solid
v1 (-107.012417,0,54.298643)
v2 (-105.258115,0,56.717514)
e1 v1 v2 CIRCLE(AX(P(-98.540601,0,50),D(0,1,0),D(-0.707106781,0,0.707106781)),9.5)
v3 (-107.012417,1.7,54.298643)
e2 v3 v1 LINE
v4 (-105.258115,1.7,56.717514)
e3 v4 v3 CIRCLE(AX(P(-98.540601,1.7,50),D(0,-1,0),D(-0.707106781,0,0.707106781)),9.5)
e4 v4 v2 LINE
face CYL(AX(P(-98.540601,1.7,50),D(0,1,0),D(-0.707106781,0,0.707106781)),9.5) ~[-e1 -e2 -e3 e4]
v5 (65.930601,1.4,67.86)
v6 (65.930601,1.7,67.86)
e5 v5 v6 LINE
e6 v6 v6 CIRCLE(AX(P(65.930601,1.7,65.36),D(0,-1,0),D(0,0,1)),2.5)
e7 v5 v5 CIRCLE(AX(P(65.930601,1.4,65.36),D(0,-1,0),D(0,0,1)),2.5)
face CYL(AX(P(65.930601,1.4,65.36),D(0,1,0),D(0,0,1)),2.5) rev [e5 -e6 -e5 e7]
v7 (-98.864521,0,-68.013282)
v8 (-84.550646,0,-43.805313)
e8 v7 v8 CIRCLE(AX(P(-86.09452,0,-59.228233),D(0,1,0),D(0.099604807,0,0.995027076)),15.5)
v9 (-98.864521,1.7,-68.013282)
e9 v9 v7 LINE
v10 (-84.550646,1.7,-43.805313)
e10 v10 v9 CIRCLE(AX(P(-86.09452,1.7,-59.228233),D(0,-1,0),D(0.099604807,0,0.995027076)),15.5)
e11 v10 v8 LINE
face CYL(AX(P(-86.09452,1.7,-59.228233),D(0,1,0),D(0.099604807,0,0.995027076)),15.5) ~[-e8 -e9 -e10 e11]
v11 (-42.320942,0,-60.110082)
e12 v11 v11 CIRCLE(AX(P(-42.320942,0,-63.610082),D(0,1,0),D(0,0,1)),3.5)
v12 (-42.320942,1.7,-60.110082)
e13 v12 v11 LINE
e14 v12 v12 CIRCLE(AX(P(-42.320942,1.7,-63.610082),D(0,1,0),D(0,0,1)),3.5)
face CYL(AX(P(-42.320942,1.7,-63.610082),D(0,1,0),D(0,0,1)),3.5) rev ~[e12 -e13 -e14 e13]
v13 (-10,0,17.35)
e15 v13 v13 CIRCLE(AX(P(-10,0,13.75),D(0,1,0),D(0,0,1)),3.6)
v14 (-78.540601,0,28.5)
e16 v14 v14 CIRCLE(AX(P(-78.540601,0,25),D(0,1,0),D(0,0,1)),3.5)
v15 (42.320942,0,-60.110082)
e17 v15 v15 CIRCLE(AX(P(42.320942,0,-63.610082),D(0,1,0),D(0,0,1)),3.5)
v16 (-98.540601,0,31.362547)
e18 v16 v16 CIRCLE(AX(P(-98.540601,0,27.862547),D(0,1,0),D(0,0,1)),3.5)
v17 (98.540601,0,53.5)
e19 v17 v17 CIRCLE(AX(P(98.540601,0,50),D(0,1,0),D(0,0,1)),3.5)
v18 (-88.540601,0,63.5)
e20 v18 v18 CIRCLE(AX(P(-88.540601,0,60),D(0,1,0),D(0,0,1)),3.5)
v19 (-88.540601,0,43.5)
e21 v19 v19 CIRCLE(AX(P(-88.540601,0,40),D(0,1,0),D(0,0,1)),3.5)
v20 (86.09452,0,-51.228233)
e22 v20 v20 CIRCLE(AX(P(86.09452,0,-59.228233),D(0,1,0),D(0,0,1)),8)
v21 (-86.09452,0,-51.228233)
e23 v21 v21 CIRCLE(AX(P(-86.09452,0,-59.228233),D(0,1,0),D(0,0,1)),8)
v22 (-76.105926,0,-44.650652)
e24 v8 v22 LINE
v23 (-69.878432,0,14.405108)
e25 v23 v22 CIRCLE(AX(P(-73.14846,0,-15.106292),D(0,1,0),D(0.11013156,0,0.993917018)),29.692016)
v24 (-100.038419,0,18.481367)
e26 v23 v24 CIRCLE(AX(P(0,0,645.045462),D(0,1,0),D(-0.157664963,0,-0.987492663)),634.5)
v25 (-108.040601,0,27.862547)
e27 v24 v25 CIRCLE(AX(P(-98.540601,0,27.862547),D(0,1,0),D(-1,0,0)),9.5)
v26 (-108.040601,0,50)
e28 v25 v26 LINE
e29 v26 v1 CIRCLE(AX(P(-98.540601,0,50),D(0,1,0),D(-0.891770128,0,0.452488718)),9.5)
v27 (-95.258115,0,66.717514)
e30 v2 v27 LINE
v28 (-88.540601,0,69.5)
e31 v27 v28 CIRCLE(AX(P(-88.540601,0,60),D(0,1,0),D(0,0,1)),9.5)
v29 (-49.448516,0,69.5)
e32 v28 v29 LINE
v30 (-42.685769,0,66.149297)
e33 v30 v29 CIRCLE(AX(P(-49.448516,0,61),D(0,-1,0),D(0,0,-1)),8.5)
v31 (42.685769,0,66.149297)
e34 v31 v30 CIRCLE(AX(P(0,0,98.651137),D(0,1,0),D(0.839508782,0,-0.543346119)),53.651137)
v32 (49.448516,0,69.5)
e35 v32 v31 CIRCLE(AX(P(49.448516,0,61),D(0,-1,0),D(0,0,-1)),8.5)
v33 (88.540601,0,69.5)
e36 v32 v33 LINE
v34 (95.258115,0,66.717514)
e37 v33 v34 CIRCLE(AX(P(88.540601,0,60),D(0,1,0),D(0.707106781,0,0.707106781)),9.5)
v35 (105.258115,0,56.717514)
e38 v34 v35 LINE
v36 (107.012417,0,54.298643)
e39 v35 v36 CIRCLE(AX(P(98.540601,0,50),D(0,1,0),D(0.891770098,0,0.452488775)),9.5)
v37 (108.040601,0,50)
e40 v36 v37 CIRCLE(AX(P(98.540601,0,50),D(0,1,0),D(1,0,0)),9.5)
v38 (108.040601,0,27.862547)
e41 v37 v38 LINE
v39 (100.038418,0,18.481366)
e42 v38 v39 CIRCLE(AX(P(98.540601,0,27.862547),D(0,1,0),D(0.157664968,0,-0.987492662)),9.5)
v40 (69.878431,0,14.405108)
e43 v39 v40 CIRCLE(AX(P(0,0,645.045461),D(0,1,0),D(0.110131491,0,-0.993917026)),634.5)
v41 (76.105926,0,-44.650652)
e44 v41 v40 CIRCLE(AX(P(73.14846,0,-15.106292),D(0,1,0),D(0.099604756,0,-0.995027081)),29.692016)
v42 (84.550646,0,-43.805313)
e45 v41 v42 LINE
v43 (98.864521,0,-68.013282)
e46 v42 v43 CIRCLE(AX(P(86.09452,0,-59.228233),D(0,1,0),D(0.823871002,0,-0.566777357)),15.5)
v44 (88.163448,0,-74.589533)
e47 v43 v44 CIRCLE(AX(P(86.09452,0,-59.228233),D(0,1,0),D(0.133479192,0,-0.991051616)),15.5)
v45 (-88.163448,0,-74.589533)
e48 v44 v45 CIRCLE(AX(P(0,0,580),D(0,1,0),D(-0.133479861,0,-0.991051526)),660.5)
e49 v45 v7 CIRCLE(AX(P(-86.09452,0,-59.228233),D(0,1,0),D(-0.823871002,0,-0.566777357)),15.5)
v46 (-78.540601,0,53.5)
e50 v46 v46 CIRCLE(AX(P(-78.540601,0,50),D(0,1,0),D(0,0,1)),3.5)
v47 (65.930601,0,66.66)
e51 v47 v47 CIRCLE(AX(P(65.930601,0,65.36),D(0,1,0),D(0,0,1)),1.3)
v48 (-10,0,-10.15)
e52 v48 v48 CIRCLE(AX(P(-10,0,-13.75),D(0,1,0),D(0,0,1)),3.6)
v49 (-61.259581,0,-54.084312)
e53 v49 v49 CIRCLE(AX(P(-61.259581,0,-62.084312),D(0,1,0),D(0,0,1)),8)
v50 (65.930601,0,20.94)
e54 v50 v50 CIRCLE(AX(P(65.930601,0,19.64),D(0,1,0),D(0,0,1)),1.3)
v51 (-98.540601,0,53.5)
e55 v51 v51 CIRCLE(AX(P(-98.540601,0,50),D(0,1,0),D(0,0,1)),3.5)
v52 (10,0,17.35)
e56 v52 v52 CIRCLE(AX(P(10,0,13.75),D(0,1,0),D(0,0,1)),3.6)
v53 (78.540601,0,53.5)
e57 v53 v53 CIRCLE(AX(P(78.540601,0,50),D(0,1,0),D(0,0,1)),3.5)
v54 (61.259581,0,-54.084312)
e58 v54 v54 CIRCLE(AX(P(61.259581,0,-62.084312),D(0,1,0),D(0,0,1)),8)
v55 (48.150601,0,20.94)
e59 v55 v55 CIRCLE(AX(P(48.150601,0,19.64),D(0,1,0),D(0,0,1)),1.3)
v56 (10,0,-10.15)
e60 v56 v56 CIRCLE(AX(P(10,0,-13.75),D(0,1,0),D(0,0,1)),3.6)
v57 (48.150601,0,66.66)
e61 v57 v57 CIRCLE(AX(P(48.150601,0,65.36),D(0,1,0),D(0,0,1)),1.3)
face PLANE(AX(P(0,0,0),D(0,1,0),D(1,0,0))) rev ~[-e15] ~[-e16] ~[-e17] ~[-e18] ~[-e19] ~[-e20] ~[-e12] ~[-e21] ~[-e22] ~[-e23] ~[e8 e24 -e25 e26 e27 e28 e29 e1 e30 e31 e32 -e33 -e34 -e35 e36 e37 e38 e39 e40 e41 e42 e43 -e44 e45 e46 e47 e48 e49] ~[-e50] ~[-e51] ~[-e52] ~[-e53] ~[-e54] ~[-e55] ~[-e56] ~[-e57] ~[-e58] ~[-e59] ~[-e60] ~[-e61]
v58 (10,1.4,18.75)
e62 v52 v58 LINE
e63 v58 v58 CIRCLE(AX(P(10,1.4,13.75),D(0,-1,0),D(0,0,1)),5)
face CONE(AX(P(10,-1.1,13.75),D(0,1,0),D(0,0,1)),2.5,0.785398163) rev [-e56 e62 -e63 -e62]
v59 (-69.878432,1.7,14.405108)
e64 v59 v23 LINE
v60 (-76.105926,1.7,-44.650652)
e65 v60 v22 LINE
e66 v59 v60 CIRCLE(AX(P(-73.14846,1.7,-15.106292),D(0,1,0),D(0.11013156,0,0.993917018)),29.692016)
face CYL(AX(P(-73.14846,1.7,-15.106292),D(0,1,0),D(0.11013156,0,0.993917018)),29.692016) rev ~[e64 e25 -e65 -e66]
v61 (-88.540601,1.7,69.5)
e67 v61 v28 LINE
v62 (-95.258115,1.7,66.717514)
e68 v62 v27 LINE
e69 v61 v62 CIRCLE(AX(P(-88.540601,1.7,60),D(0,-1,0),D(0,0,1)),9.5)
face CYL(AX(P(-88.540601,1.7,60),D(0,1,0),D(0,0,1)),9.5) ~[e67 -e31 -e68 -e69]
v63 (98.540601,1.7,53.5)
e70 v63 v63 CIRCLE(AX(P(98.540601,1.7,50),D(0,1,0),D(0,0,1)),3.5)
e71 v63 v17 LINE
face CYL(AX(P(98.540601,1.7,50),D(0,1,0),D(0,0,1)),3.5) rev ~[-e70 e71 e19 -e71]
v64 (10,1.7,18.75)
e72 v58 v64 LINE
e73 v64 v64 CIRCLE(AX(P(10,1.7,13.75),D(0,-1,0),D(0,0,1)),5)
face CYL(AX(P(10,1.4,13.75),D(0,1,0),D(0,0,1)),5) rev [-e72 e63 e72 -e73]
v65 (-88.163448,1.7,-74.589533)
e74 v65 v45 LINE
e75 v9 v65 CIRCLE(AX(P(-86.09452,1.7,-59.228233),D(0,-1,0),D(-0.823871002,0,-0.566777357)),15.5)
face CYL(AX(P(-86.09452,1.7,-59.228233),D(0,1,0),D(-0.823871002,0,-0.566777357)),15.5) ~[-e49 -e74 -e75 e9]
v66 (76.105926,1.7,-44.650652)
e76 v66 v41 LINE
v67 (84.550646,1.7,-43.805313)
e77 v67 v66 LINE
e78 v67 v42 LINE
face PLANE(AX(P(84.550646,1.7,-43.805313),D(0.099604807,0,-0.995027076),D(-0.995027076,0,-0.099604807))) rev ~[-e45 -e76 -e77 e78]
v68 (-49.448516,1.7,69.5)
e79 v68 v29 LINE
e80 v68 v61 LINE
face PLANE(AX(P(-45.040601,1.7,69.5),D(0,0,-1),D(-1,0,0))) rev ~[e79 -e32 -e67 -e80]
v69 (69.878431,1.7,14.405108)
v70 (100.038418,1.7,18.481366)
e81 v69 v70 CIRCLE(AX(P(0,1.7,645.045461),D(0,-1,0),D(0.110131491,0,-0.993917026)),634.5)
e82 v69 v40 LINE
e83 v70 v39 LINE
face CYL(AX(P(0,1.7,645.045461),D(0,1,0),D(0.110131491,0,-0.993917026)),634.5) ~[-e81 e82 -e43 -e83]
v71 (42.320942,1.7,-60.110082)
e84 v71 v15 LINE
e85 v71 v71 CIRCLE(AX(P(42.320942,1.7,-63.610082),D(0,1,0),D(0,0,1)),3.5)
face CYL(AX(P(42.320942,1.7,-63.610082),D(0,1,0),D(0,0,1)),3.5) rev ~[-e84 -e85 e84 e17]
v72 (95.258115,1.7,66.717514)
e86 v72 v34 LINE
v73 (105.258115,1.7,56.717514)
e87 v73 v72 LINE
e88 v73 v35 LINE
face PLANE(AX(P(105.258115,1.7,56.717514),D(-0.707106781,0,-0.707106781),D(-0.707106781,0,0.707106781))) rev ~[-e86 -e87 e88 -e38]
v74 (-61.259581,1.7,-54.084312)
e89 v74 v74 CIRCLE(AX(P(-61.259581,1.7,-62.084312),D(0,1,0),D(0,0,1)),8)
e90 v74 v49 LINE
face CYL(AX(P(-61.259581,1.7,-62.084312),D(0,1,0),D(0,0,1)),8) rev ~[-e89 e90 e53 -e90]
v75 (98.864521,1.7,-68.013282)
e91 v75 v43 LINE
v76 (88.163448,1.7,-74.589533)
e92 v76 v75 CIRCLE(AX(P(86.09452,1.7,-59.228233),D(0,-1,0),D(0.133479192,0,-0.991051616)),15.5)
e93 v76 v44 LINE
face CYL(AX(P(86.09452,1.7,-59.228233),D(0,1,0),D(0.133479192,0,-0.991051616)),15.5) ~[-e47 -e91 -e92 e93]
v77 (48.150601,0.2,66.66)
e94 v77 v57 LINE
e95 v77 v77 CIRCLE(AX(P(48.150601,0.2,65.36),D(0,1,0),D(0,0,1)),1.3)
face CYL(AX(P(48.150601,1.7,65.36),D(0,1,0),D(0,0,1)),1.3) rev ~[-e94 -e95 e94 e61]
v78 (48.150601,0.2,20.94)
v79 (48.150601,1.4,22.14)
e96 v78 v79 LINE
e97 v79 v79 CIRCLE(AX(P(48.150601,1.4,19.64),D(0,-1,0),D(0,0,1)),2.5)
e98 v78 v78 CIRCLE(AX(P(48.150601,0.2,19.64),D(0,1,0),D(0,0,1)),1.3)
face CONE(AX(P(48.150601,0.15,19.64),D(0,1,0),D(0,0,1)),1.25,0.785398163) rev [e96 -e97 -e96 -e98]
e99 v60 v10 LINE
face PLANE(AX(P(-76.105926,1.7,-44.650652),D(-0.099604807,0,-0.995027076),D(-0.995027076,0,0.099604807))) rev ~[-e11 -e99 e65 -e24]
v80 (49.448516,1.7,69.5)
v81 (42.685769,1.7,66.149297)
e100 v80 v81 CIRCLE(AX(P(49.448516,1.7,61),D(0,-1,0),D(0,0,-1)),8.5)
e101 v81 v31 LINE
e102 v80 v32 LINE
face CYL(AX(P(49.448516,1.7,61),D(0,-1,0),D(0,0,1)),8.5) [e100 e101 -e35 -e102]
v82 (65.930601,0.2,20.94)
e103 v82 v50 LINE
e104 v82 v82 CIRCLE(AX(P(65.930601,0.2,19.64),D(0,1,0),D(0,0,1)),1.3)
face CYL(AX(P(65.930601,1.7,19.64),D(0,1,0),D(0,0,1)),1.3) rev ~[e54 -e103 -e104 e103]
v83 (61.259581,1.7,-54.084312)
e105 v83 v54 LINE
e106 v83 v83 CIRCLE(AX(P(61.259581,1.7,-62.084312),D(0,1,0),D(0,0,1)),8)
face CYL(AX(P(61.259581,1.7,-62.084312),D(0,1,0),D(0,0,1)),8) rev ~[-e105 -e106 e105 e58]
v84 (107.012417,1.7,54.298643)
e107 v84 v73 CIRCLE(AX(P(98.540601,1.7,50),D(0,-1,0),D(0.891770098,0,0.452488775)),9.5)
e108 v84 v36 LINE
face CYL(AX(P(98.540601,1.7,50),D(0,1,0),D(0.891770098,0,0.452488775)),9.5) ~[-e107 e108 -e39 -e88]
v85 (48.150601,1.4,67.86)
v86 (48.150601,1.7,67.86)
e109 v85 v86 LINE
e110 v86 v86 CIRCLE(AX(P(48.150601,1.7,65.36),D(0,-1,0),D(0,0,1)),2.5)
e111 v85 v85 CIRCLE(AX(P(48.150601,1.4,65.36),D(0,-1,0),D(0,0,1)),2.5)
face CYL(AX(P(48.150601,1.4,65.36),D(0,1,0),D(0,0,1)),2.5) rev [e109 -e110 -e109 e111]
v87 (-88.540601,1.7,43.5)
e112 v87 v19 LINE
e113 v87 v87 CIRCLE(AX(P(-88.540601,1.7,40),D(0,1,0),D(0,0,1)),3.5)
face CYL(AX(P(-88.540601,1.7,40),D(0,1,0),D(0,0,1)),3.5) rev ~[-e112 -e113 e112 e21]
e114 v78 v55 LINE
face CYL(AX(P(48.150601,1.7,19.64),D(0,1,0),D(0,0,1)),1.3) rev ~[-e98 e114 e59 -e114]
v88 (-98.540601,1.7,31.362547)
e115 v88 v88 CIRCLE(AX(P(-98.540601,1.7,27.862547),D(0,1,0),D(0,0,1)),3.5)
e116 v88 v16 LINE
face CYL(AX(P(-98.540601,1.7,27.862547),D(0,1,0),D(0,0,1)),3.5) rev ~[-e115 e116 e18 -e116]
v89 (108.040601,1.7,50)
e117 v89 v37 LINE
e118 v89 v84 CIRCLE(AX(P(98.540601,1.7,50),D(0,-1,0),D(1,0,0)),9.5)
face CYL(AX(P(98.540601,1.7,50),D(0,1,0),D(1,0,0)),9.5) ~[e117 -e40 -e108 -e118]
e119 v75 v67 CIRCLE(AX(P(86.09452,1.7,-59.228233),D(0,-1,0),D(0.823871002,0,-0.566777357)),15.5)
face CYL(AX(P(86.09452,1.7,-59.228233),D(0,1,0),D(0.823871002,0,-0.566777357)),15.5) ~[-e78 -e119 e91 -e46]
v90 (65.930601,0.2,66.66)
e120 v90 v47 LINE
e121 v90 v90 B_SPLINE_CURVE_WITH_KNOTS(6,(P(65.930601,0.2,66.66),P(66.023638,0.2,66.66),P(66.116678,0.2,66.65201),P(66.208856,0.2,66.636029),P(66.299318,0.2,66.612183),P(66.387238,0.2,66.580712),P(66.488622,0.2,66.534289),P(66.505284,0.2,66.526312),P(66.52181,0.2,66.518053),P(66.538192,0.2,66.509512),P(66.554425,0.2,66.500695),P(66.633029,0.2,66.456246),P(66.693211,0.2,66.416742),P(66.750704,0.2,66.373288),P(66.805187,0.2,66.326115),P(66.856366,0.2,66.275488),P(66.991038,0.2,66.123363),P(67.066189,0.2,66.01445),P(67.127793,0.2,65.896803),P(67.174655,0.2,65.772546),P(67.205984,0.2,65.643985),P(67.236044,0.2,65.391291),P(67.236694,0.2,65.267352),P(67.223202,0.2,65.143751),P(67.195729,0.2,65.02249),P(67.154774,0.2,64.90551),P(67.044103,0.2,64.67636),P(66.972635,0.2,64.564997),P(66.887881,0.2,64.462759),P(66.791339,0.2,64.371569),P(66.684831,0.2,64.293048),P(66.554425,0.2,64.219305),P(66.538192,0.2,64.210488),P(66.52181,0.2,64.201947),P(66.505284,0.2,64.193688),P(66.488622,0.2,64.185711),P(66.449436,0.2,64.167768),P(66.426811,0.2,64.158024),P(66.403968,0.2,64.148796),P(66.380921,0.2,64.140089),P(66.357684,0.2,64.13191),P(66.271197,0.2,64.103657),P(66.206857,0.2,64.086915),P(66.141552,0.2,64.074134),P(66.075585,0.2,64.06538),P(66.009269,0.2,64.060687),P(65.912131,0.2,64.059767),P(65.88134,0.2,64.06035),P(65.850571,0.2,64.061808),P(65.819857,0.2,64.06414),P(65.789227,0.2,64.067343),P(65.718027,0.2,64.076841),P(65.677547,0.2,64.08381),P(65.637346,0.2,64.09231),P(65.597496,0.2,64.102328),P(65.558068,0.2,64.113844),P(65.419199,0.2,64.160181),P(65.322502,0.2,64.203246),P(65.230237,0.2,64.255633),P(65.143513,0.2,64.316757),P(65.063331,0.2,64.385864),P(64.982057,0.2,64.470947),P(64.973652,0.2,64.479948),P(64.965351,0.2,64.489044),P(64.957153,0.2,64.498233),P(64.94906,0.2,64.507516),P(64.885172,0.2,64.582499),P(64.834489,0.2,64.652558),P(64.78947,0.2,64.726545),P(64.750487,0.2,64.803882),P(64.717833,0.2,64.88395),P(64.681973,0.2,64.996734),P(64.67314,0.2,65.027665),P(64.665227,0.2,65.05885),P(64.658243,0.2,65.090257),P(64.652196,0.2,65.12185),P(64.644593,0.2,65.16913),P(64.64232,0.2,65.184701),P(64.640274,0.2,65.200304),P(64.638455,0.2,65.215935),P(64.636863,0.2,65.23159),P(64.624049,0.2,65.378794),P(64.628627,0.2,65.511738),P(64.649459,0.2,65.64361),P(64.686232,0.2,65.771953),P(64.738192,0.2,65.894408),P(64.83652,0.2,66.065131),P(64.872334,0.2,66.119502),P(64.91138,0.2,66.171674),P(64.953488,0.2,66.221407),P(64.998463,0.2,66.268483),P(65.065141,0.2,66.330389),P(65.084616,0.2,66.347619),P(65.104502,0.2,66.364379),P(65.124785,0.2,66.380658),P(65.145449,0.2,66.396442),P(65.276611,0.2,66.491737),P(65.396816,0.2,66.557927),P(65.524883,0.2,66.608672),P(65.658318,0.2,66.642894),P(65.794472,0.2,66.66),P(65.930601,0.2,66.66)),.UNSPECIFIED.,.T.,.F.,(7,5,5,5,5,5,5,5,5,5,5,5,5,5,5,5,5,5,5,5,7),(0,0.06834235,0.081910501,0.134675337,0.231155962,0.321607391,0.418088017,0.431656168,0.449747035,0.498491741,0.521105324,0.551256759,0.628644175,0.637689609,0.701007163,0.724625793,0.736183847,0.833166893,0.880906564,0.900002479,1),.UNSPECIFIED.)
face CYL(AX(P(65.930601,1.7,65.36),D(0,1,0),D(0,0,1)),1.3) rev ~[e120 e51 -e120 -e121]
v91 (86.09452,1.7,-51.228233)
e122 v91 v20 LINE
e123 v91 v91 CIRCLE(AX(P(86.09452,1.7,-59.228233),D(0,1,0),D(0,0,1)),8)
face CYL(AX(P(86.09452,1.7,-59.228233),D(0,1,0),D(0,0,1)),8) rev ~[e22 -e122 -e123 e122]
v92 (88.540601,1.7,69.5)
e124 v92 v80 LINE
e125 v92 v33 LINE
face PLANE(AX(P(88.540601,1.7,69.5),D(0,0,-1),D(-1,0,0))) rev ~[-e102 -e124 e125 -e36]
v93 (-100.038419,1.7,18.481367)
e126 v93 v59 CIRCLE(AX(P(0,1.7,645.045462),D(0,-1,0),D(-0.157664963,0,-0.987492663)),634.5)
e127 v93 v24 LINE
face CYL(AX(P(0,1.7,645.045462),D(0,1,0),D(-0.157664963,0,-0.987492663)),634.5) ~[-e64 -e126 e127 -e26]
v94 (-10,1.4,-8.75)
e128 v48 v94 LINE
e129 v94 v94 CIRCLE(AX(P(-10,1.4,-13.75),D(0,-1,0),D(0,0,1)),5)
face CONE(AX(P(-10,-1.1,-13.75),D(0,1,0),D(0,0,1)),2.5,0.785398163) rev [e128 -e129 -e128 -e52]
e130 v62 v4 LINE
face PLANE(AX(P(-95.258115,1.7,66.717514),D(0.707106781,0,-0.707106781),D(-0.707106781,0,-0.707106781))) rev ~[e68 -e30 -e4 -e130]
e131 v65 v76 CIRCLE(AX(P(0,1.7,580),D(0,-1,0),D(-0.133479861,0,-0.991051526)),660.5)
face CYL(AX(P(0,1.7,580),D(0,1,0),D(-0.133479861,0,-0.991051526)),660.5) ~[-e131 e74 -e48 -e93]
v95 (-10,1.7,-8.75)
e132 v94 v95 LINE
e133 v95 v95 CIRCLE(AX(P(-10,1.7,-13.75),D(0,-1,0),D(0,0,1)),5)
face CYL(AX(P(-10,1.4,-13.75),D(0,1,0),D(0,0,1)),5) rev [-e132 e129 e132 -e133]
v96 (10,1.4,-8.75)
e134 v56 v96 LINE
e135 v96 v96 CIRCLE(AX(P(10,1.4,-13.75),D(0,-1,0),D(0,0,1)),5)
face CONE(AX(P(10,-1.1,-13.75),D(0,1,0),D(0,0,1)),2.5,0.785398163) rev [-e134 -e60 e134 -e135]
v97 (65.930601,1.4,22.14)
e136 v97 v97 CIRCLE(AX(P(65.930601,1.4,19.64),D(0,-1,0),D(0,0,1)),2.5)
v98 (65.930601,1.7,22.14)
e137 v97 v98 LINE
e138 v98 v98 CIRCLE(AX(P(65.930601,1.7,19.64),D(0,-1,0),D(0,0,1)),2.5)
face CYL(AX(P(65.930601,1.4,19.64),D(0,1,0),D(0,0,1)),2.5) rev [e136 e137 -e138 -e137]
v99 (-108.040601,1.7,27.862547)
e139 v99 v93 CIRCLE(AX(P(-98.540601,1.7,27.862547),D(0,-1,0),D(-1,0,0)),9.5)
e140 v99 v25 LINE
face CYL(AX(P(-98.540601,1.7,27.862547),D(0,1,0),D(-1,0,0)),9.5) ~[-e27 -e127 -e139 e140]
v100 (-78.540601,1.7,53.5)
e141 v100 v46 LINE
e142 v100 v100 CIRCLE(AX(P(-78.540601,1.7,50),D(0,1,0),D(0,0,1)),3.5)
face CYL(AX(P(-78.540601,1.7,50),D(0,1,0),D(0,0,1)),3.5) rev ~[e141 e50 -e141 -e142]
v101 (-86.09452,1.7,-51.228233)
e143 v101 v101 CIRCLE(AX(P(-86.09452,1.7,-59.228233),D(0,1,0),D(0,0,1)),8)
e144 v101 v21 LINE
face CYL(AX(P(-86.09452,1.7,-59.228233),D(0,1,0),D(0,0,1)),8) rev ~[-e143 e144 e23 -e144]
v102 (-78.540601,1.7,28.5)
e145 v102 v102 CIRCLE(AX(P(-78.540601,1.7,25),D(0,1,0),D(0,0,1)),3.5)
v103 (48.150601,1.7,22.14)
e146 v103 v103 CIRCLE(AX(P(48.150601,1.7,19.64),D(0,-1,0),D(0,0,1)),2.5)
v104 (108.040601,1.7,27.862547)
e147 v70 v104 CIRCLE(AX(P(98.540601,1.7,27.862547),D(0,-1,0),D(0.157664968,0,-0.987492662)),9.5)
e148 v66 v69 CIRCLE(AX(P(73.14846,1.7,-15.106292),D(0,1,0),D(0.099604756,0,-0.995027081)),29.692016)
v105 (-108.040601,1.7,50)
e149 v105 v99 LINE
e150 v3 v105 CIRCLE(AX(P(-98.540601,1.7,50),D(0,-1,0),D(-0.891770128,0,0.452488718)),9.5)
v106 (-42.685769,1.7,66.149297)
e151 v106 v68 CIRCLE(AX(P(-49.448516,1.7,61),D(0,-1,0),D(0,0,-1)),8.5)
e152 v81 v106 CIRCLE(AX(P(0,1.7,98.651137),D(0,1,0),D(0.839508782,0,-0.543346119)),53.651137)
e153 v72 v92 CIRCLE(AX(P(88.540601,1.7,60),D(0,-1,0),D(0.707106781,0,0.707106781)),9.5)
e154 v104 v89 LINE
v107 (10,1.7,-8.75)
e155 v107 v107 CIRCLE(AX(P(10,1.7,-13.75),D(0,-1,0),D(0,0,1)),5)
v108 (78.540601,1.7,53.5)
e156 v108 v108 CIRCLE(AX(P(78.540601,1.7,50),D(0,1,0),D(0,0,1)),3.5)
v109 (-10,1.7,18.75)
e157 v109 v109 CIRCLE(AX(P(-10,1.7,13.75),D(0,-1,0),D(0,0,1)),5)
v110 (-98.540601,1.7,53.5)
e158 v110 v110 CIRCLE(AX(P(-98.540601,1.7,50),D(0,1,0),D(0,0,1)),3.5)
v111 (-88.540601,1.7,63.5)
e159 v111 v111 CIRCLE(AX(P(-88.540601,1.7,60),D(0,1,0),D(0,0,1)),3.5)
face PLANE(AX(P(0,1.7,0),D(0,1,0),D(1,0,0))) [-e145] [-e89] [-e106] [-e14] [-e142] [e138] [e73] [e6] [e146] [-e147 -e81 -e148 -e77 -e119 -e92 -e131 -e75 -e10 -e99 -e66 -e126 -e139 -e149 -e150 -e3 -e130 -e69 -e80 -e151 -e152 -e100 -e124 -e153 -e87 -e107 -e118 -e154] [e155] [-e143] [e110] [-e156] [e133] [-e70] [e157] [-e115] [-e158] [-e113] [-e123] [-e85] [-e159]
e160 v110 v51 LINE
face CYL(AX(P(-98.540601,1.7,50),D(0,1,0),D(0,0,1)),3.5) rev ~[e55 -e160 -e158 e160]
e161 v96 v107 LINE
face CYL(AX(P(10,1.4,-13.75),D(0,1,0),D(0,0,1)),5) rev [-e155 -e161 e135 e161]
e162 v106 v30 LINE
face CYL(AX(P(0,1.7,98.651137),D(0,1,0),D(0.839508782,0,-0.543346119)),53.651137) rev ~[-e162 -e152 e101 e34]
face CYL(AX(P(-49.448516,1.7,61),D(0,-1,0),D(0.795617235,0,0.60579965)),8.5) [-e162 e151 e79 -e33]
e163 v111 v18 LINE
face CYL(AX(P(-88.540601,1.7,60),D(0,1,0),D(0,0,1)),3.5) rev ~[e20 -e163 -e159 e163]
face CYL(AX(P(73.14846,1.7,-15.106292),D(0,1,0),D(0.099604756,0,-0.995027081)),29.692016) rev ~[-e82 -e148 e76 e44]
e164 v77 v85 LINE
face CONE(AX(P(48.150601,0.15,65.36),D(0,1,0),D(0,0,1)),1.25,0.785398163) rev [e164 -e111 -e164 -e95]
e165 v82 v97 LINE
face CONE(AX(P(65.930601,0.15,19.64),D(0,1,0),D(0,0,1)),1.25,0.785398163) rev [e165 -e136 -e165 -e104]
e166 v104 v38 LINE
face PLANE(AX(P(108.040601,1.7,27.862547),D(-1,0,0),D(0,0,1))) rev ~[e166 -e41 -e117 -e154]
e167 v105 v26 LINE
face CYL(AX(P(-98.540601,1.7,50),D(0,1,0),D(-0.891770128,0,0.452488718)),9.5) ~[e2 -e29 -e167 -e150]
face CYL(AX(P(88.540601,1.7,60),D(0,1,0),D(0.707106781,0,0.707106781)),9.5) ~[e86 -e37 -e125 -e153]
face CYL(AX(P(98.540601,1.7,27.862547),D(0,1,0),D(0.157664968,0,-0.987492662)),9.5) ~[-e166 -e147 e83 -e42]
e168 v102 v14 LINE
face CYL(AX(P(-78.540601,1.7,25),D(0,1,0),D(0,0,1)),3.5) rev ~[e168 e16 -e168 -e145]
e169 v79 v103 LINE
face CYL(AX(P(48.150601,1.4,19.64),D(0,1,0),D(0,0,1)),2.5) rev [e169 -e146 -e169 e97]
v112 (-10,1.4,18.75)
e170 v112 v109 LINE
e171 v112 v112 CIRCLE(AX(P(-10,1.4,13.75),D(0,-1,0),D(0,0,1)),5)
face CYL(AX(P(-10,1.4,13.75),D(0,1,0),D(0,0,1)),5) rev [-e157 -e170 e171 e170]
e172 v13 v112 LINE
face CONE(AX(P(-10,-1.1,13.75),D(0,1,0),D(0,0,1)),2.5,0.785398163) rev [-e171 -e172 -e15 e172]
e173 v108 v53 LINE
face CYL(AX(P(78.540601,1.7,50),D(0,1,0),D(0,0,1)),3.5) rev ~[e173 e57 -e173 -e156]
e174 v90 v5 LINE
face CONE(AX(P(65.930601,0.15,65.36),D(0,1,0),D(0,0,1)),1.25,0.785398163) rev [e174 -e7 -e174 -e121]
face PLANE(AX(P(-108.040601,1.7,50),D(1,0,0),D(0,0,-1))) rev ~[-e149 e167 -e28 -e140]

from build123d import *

# Parameters (mm, degrees)
SKETCH1_R                                      = 2.5
BOSS_EXTRUDE1_DEPTH                            = 1.7
CUT_EXTRUDE1_REACH                             = 155.062
SKETCH2_R                                      = 3.5
SKETCH2_R_2                                    = 8
CUT_EXTRUDE2_REACH                             = 155.062
SKETCH3_R                                      = 1.3
CSK_FOR_M5_FLAT_HEAD_MACHINE_SCREW1_AT_2_COUNT = 2
CSK_FOR_M5_FLAT_HEAD_MACHINE_SCREW1_AT_2_PITCH = 20
CSK_FOR_M5_FLAT_HEAD_MACHINE_SCREW1_AT_3_COUNT = 2
CSK_FOR_M5_FLAT_HEAD_MACHINE_SCREW1_AT_3_PITCH = 34.003676272
CSK_FOR_M5_FLAT_HEAD_MACHINE_SCREW1_AT_4_COUNT = 2
CSK_FOR_M5_FLAT_HEAD_MACHINE_SCREW1_AT_4_PITCH = 27.5
CSK_FOR_M2_5_FLAT_HEAD_MACHINE_SCREW1_AT_COUNT = 2
CSK_FOR_M2_5_FLAT_HEAD_MACHINE_SCREW1_AT_PITCH = 17.78
CSK_FOR_M2_5_FLAT_HEAD_MACHINE_SCREW_2_COUNT   = 2
CSK_FOR_M2_5_FLAT_HEAD_MACHINE_SCREW_2_PITCH   = 49.055548106
CSK_FOR_M2_5_FLAT_HEAD_MACHINE_SCREW_3_COUNT   = 2
CSK_FOR_M2_5_FLAT_HEAD_MACHINE_SCREW_3_PITCH   = 45.72
FILLET1_R                                      = 8.5


with BuildPart() as part:
    # Sketch1 → Boss-Extrude1 (new body)
    with BuildSketch(Plane(origin=(0, 0, 0), x_dir=(1, 0, 0), z_dir=(0, 1, 0))):
        with BuildLine():
            ThreePointArc((-73.314391493, 95), (-120, 0), (-73.314391493, -95))
            Line((-73.314391493, -95), (73.314391493, -95))
            ThreePointArc((73.314391493, -95), (120, 0), (73.314391493, 95))
            Line((73.314391493, 95), (-73.314391493, 95))
        make_face()
        with Locations(Location((10, 13.75, 0), (0, 0, 270))):
            Circle(SKETCH1_R, mode=Mode.SUBTRACT)
        with Locations(Location((10, -13.75, 0), (0, 0, 270))):
            Circle(SKETCH1_R, mode=Mode.SUBTRACT)
        with Locations(Location((-10, -13.75, 0), (0, 0, 270))):
            Circle(SKETCH1_R, mode=Mode.SUBTRACT)
        with Locations(Location((-10, 13.75, 0), (0, 0, 270))):
            Circle(SKETCH1_R, mode=Mode.SUBTRACT)
    extrude(amount=BOSS_EXTRUDE1_DEPTH)

    # Sketch2 → Cut-Extrude1 (cut, up to next)
    with BuildSketch(Plane(origin=(0, 1.7, 0), x_dir=(1, 0, 0), z_dir=(0, 1, 0)), mode=Mode.PRIVATE) as cut_extrude1_sk1:
        with Locations(Location((-88.540600769, -40, 0), (0, 0, 270))):
            Circle(SKETCH2_R)
    cut_extrude1_tool1 = extrude(cut_extrude1_sk1.sketch, amount=-CUT_EXTRUDE1_REACH, mode=Mode.PRIVATE) & part.part
    # Sketch2 → Cut-Extrude1 (cut, up to next)
    with BuildSketch(Plane(origin=(0, 1.7, 0), x_dir=(1, 0, 0), z_dir=(0, 1, 0)), mode=Mode.PRIVATE) as cut_extrude1_sk2:
        with Locations(Location((-78.540600769, -50, 0), (0, 0, 270))):
            Circle(SKETCH2_R)
    cut_extrude1_tool2 = extrude(cut_extrude1_sk2.sketch, amount=-CUT_EXTRUDE1_REACH, mode=Mode.PRIVATE) & part.part
    # Sketch2 → Cut-Extrude1 (cut, up to next)
    with BuildSketch(Plane(origin=(0, 1.7, 0), x_dir=(1, 0, 0), z_dir=(0, 1, 0)), mode=Mode.PRIVATE) as cut_extrude1_sk3:
        with Locations(Location((-88.540600769, -60, 0), (0, 0, 270))):
            Circle(SKETCH2_R)
    cut_extrude1_tool3 = extrude(cut_extrude1_sk3.sketch, amount=-CUT_EXTRUDE1_REACH, mode=Mode.PRIVATE) & part.part
    # Sketch2 → Cut-Extrude1 (cut, up to next)
    with BuildSketch(Plane(origin=(0, 1.7, 0), x_dir=(1, 0, 0), z_dir=(0, 1, 0)), mode=Mode.PRIVATE) as cut_extrude1_sk4:
        with Locations(Location((-98.540600769, -50, 0), (0, 0, 270))):
            Circle(SKETCH2_R)
    cut_extrude1_tool4 = extrude(cut_extrude1_sk4.sketch, amount=-CUT_EXTRUDE1_REACH, mode=Mode.PRIVATE) & part.part
    # Sketch2 → Cut-Extrude1 (cut, up to next)
    with BuildSketch(Plane(origin=(0, 1.7, 0), x_dir=(1, 0, 0), z_dir=(0, 1, 0)), mode=Mode.PRIVATE) as cut_extrude1_sk5:
        with Locations(Location((78.540600769, -50, 0), (0, 0, 270))):
            Circle(SKETCH2_R)
    cut_extrude1_tool5 = extrude(cut_extrude1_sk5.sketch, amount=-CUT_EXTRUDE1_REACH, mode=Mode.PRIVATE) & part.part
    # Sketch2 → Cut-Extrude1 (cut, up to next)
    with BuildSketch(Plane(origin=(0, 1.7, 0), x_dir=(1, 0, 0), z_dir=(0, 1, 0)), mode=Mode.PRIVATE) as cut_extrude1_sk6:
        with Locations(Location((98.540600769, -50, 0), (0, 0, 270))):
            Circle(SKETCH2_R)
    cut_extrude1_tool6 = extrude(cut_extrude1_sk6.sketch, amount=-CUT_EXTRUDE1_REACH, mode=Mode.PRIVATE) & part.part
    # Sketch2 → Cut-Extrude1 (cut, up to next)
    with BuildSketch(Plane(origin=(0, 1.7, 0), x_dir=(1, 0, 0), z_dir=(0, 1, 0)), mode=Mode.PRIVATE) as cut_extrude1_sk7:
        with Locations(Location((-98.540600769, -27.862546721, 0), (0, 0, 270))):
            Circle(SKETCH2_R)
    cut_extrude1_tool7 = extrude(cut_extrude1_sk7.sketch, amount=-CUT_EXTRUDE1_REACH, mode=Mode.PRIVATE) & part.part
    # Sketch2 → Cut-Extrude1 (cut, up to next)
    with BuildSketch(Plane(origin=(0, 1.7, 0), x_dir=(1, 0, 0), z_dir=(0, 1, 0)), mode=Mode.PRIVATE) as cut_extrude1_sk8:
        with Locations(Location((-78.540600769, -25, 0), (0, 0, 270))):
            Circle(SKETCH2_R)
    cut_extrude1_tool8 = extrude(cut_extrude1_sk8.sketch, amount=-CUT_EXTRUDE1_REACH, mode=Mode.PRIVATE) & part.part
    # Sketch2 → Cut-Extrude1 (cut, up to next)
    with BuildSketch(Plane(origin=(0, 1.7, 0), x_dir=(1, 0, 0), z_dir=(0, 1, 0)), mode=Mode.PRIVATE) as cut_extrude1_sk9:
        with Locations(Location((-86.094520408, 59.228232759, 0), (0, 0, 270))):
            Circle(SKETCH2_R_2)
    cut_extrude1_tool9 = extrude(cut_extrude1_sk9.sketch, amount=-CUT_EXTRUDE1_REACH, mode=Mode.PRIVATE) & part.part
    # Sketch2 → Cut-Extrude1 (cut, up to next)
    with BuildSketch(Plane(origin=(0, 1.7, 0), x_dir=(1, 0, 0), z_dir=(0, 1, 0)), mode=Mode.PRIVATE) as cut_extrude1_sk10:
        with Locations(Location((-61.259580586, 62.084312054, 0), (0, 0, 270))):
            Circle(SKETCH2_R_2)
    cut_extrude1_tool10 = extrude(cut_extrude1_sk10.sketch, amount=-CUT_EXTRUDE1_REACH, mode=Mode.PRIVATE) & part.part
    # Sketch2 → Cut-Extrude1 (cut, up to next)
    with BuildSketch(Plane(origin=(0, 1.7, 0), x_dir=(1, 0, 0), z_dir=(0, 1, 0)), mode=Mode.PRIVATE) as cut_extrude1_sk11:
        with Locations(Location((61.259580586, 62.084312054, 0), (0, 0, 270))):
            Circle(SKETCH2_R_2)
    cut_extrude1_tool11 = extrude(cut_extrude1_sk11.sketch, amount=-CUT_EXTRUDE1_REACH, mode=Mode.PRIVATE) & part.part
    # Sketch2 → Cut-Extrude1 (cut, up to next)
    with BuildSketch(Plane(origin=(0, 1.7, 0), x_dir=(1, 0, 0), z_dir=(0, 1, 0)), mode=Mode.PRIVATE) as cut_extrude1_sk12:
        with Locations(Location((86.094520408, 59.228232759, 0), (0, 0, 270))):
            Circle(SKETCH2_R_2)
    cut_extrude1_tool12 = extrude(cut_extrude1_sk12.sketch, amount=-CUT_EXTRUDE1_REACH, mode=Mode.PRIVATE) & part.part
    # Sketch2 → Cut-Extrude1 (cut, up to next)
    with BuildSketch(Plane(origin=(0, 1.7, 0), x_dir=(1, 0, 0), z_dir=(0, 1, 0)), mode=Mode.PRIVATE) as cut_extrude1_sk13:
        with Locations(Location((-42.320942156, 63.610082158, 0), (0, 0, 270))):
            Circle(SKETCH2_R)
    cut_extrude1_tool13 = extrude(cut_extrude1_sk13.sketch, amount=-CUT_EXTRUDE1_REACH, mode=Mode.PRIVATE) & part.part
    # Sketch2 → Cut-Extrude1 (cut, up to next)
    with BuildSketch(Plane(origin=(0, 1.7, 0), x_dir=(1, 0, 0), z_dir=(0, 1, 0)), mode=Mode.PRIVATE) as cut_extrude1_sk14:
        with Locations(Location((42.320942156, 63.610082158, 0), (0, 0, 270))):
            Circle(SKETCH2_R)
    cut_extrude1_tool14 = extrude(cut_extrude1_sk14.sketch, amount=-CUT_EXTRUDE1_REACH, mode=Mode.PRIVATE) & part.part
    add(cut_extrude1_tool1.solids().sort_by_distance((-88.540601, 1.7, 40))[0], mode=Mode.SUBTRACT)
    add(cut_extrude1_tool2.solids().sort_by_distance((-78.540601, 1.7, 50))[0], mode=Mode.SUBTRACT)
    add(cut_extrude1_tool3.solids().sort_by_distance((-88.540601, 1.7, 60))[0], mode=Mode.SUBTRACT)
    add(cut_extrude1_tool4.solids().sort_by_distance((-98.540601, 1.7, 50))[0], mode=Mode.SUBTRACT)
    add(cut_extrude1_tool5.solids().sort_by_distance((78.540601, 1.7, 50))[0], mode=Mode.SUBTRACT)
    add(cut_extrude1_tool6.solids().sort_by_distance((98.540601, 1.7, 50))[0], mode=Mode.SUBTRACT)
    add(cut_extrude1_tool7.solids().sort_by_distance((-98.540601, 1.7, 27.862547))[0], mode=Mode.SUBTRACT)
    add(cut_extrude1_tool8.solids().sort_by_distance((-78.540601, 1.7, 25))[0], mode=Mode.SUBTRACT)
    add(cut_extrude1_tool9.solids().sort_by_distance((-86.09452, 1.7, -59.228233))[0], mode=Mode.SUBTRACT)
    add(cut_extrude1_tool10.solids().sort_by_distance((-61.259581, 1.7, -62.084312))[0], mode=Mode.SUBTRACT)
    add(cut_extrude1_tool11.solids().sort_by_distance((61.259581, 1.7, -62.084312))[0], mode=Mode.SUBTRACT)
    add(cut_extrude1_tool12.solids().sort_by_distance((86.09452, 1.7, -59.228233))[0], mode=Mode.SUBTRACT)
    add(cut_extrude1_tool13.solids().sort_by_distance((-42.320942, 1.7, -63.610082))[0], mode=Mode.SUBTRACT)
    add(cut_extrude1_tool14.solids().sort_by_distance((42.320942, 1.7, -63.610082))[0], mode=Mode.SUBTRACT)

    # Sketch3 → Cut-Extrude2 (cut, up to next)
    with BuildSketch(Plane(origin=(0, 1.7, 0), x_dir=(1, 0, 0), z_dir=(0, 1, 0)), mode=Mode.PRIVATE) as cut_extrude2_sk1:
        with BuildLine():
            Line((-76.105925997, 44.650651574), (-84.550645906, 43.805313077))
            ThreePointArc((-84.550645906, 43.805313077), (-99.436668425, 51.339184255), (-98.864520937, 68.01328179))
            ThreePointArc((-98.864520937, 68.01328179), (-119.734623718, 7.976207306), (-107.01241698, -54.298642821))
            ThreePointArc((-107.01241698, -54.298642821), (-107.779979915, -52.209948642), (-108.040600769, -50))
            Line((-108.040600769, -50), (-108.040600769, -27.862546721))
            ThreePointArc((-108.040600769, -27.862546721), (-105.768300058, -21.697292226), (-100.038419088, -18.48136661))
            ThreePointArc((-100.038419088, -18.48136661), (-84.982869082, -16.262381048), (-69.878431955, -14.405108328))
            ThreePointArc((-69.878431955, -14.405108328), (-43.620166463, 18.220082253), (-76.105925997, 44.650651574))
        make_face()
    cut_extrude2_tool1 = extrude(cut_extrude2_sk1.sketch, amount=-CUT_EXTRUDE2_REACH, mode=Mode.PRIVATE) & part.part
    # Sketch3 → Cut-Extrude2 (cut, up to next)
    with BuildSketch(Plane(origin=(0, 1.7, 0), x_dir=(1, 0, 0), z_dir=(0, 1, 0)), mode=Mode.PRIVATE) as cut_extrude2_sk2:
        with BuildLine():
            ThreePointArc((-98.864520937, 68.01328179), (-94.209951098, 72.433905203), (-88.163447862, 74.589532807))
            ThreePointArc((-88.163447862, 74.589532807), (1.3e-08, 80.5), (88.163447888, 74.589532804))
            ThreePointArc((88.163447888, 74.589532804), (94.209951109, 72.433905197), (98.864520937, 68.01328179))
            ThreePointArc((98.864520937, 68.01328179), (87.140491227, 82.501725974), (73.314391493, 95))
            Line((73.314391493, 95), (-73.314391493, 95))
            ThreePointArc((-73.314391493, 95), (-87.140491227, 82.501725974), (-98.864520937, 68.01328179))
        make_face()
    cut_extrude2_tool2 = extrude(cut_extrude2_sk2.sketch, amount=-CUT_EXTRUDE2_REACH, mode=Mode.PRIVATE) & part.part
    # Sketch3 → Cut-Extrude2 (cut, up to next)
    with BuildSketch(Plane(origin=(0, 1.7, 0), x_dir=(1, 0, 0), z_dir=(0, 1, 0)), mode=Mode.PRIVATE) as cut_extrude2_sk3:
        with BuildLine():
            ThreePointArc((-105.258115191, -56.717514421), (-106.230963324, -55.577483643), (-107.01241698, -54.298642821))
            ThreePointArc((-107.01241698, -54.298642821), (-92.431539977, -76.52718744), (-73.314391493, -95))
            Line((-73.314391493, -95), (73.314391493, -95))
            ThreePointArc((73.314391493, -95), (92.431539785, -76.527187671), (107.012416708, -54.298643357))
            ThreePointArc((107.012416708, -54.298643357), (106.230963147, -55.577483886), (105.258115191, -56.717514421))
            Line((105.258115191, -56.717514421), (95.258115191, -66.717514421))
            ThreePointArc((95.258115191, -66.717514421), (92.176093377, -68.776855559), (88.540600769, -69.5))
            Line((88.540600769, -69.5), (45.040600769, -69.5))
            ThreePointArc((45.040600769, -69.5), (0, -45), (-45.040600769, -69.5))
            Line((-45.040600769, -69.5), (-88.540600769, -69.5))
            ThreePointArc((-88.540600769, -69.5), (-92.176093377, -68.776855559), (-95.258115191, -66.717514421))
            Line((-95.258115191, -66.717514421), (-105.258115191, -56.717514421))
        make_face()
    cut_extrude2_tool3 = extrude(cut_extrude2_sk3.sketch, amount=-CUT_EXTRUDE2_REACH, mode=Mode.PRIVATE) & part.part
    # Sketch3 → Cut-Extrude2 (cut, up to next)
    with BuildSketch(Plane(origin=(0, 1.7, 0), x_dir=(1, 0, 0), z_dir=(0, 1, 0)), mode=Mode.PRIVATE) as cut_extrude2_sk4:
        with BuildLine():
            ThreePointArc((76.105925997, 44.650651574), (43.620166505, 18.220082647), (69.878431166, -14.405108241))
            ThreePointArc((69.878431166, -14.405108241), (84.982868127, -16.262380919), (100.038417968, -18.481366431))
            ThreePointArc((100.038417968, -18.481366431), (105.768299691, -21.697291795), (108.040600769, -27.862546721))
            Line((108.040600769, -27.862546721), (108.040600769, -50))
            ThreePointArc((108.040600769, -50), (107.779979845, -52.209948935), (107.012416708, -54.298643357))
            ThreePointArc((107.012416708, -54.298643357), (119.734623738, 7.976207006), (98.864520937, 68.01328179))
            ThreePointArc((98.864520937, 68.01328179), (99.436668425, 51.339184255), (84.550645906, 43.805313077))
            Line((84.550645906, 43.805313077), (76.105925997, 44.650651574))
        make_face()
    cut_extrude2_tool4 = extrude(cut_extrude2_sk4.sketch, amount=-CUT_EXTRUDE2_REACH, mode=Mode.PRIVATE) & part.part
    # Sketch3 → Cut-Extrude2 (cut, up to next)
    with BuildSketch(Plane(origin=(0, 1.7, 0), x_dir=(1, 0, 0), z_dir=(0, 1, 0)), mode=Mode.PRIVATE) as cut_extrude2_sk5:
        with Locations(Location((48.150600769, -19.64, 0), (0, 0, 270))):
            Circle(SKETCH3_R)
    cut_extrude2_tool5 = extrude(cut_extrude2_sk5.sketch, amount=-CUT_EXTRUDE2_REACH, mode=Mode.PRIVATE) & part.part
    # Sketch3 → Cut-Extrude2 (cut, up to next)
    with BuildSketch(Plane(origin=(0, 1.7, 0), x_dir=(1, 0, 0), z_dir=(0, 1, 0)), mode=Mode.PRIVATE) as cut_extrude2_sk6:
        with Locations(Location((65.930600769, -19.64, 0), (0, 0, 270))):
            Circle(SKETCH3_R)
    cut_extrude2_tool6 = extrude(cut_extrude2_sk6.sketch, amount=-CUT_EXTRUDE2_REACH, mode=Mode.PRIVATE) & part.part
    # Sketch3 → Cut-Extrude2 (cut, up to next)
    with BuildSketch(Plane(origin=(0, 1.7, 0), x_dir=(1, 0, 0), z_dir=(0, 1, 0)), mode=Mode.PRIVATE) as cut_extrude2_sk7:
        with Locations(Location((65.930600769, -65.36, 0), (0, 0, 270))):
            Circle(SKETCH3_R)
    cut_extrude2_tool7 = extrude(cut_extrude2_sk7.sketch, amount=-CUT_EXTRUDE2_REACH, mode=Mode.PRIVATE) & part.part
    # Sketch3 → Cut-Extrude2 (cut, up to next)
    with BuildSketch(Plane(origin=(0, 1.7, 0), x_dir=(1, 0, 0), z_dir=(0, 1, 0)), mode=Mode.PRIVATE) as cut_extrude2_sk8:
        with Locations(Location((48.150600769, -65.36, 0), (0, 0, 270))):
            Circle(SKETCH3_R)
    cut_extrude2_tool8 = extrude(cut_extrude2_sk8.sketch, amount=-CUT_EXTRUDE2_REACH, mode=Mode.PRIVATE) & part.part
    add(cut_extrude2_tool1.solids().sort_by_distance((-86.043963, 1.7, -12.513289))[0], mode=Mode.SUBTRACT)
    add(cut_extrude2_tool2.solids().sort_by_distance((0, 1.7, -86.177495))[0], mode=Mode.SUBTRACT)
    add(cut_extrude2_tool3.solids().sort_by_distance((0, 1.7, 75.736765))[0], mode=Mode.SUBTRACT)
    add(cut_extrude2_tool4.solids().sort_by_distance((86.043963, 1.7, -12.513289))[0], mode=Mode.SUBTRACT)
    add(cut_extrude2_tool5.solids().sort_by_distance((48.150601, 1.7, 19.64))[0], mode=Mode.SUBTRACT)
    add(cut_extrude2_tool6.solids().sort_by_distance((65.930601, 1.7, 19.64))[0], mode=Mode.SUBTRACT)
    add(cut_extrude2_tool7.solids().sort_by_distance((65.930601, 1.7, 65.36))[0], mode=Mode.SUBTRACT)
    add(cut_extrude2_tool8.solids().sort_by_distance((48.150601, 1.7, 65.36))[0], mode=Mode.SUBTRACT)

    # Sketch5 → CSK for M5 Flat Head Machine Screw1 (revolve, cut)
    with BuildSketch(Plane(origin=(-10, 1.7, -13.75), x_dir=(0, 0, 1), z_dir=(1, 0, 0))):
        Polygon((0, 0), (0, 6.502151548), (2.5, 5), (2.5, 2.8), (5, 0.3), (5, 0), align=None)
    csk_for_m5_flat_head_machine_screw1 = revolve(axis=Axis((-10, 8.05, -13.75), (0, -1, 0)), mode=Mode.SUBTRACT)

    # CSK for M5 Flat Head Machine Screw1 at 2: CSK for M5 Flat Head Machine Screw1 ×2
    with Locations(*[(i * CSK_FOR_M5_FLAT_HEAD_MACHINE_SCREW1_AT_2_PITCH, 0, 0) for i in range(1, CSK_FOR_M5_FLAT_HEAD_MACHINE_SCREW1_AT_2_COUNT)]):
        add(csk_for_m5_flat_head_machine_screw1, mode=Mode.SUBTRACT)

    # CSK for M5 Flat Head Machine Screw1 at 3: CSK for M5 Flat Head Machine Screw1 ×2
    with Locations(*[Vector(0.5881716976750462, 0, 0.8087360843031886) * (i * CSK_FOR_M5_FLAT_HEAD_MACHINE_SCREW1_AT_3_PITCH) for i in range(1, CSK_FOR_M5_FLAT_HEAD_MACHINE_SCREW1_AT_3_COUNT)]):
        add(csk_for_m5_flat_head_machine_screw1, mode=Mode.SUBTRACT)

    # CSK for M5 Flat Head Machine Screw1 at 4: CSK for M5 Flat Head Machine Screw1 ×2
    with Locations(*[(0, 0, i * CSK_FOR_M5_FLAT_HEAD_MACHINE_SCREW1_AT_4_PITCH) for i in range(1, CSK_FOR_M5_FLAT_HEAD_MACHINE_SCREW1_AT_4_COUNT)]):
        add(csk_for_m5_flat_head_machine_screw1, mode=Mode.SUBTRACT)

    # Sketch7 → CSK for M2.5 Flat Head Machine Screw1 (revolve, cut)
    with BuildSketch(Plane(origin=(48.150600769, 1.7, 19.64), x_dir=(0, 0, 1), z_dir=(1, 0, 0))):
        Polygon((0, 0), (0, 5.751075774), (1.25, 5), (1.25, 1.55), (2.5, 0.3), (2.5, 0), align=None)
    csk_for_m2_5_flat_head_machine_screw1 = revolve(axis=Axis((48.150600769, 8.05, 19.64), (0, -1, 0)), mode=Mode.SUBTRACT)

    # CSK for M2.5 Flat Head Machine Screw1 at: CSK for M2.5 Flat Head Machine Screw1 ×2
    with Locations(*[(i * CSK_FOR_M2_5_FLAT_HEAD_MACHINE_SCREW1_AT_PITCH, 0, 0) for i in range(1, CSK_FOR_M2_5_FLAT_HEAD_MACHINE_SCREW1_AT_COUNT)]):
        add(csk_for_m2_5_flat_head_machine_screw1, mode=Mode.SUBTRACT)

    # CSK for M2.5 Flat Head Machine Screw 2: CSK for M2.5 Flat Head Machine Screw1 ×2
    with Locations(*[Vector(0.3624462611549487, 0, 0.9320046715412958) * (i * CSK_FOR_M2_5_FLAT_HEAD_MACHINE_SCREW_2_PITCH) for i in range(1, CSK_FOR_M2_5_FLAT_HEAD_MACHINE_SCREW_2_COUNT)]):
        add(csk_for_m2_5_flat_head_machine_screw1, mode=Mode.SUBTRACT)

    # CSK for M2.5 Flat Head Machine Screw 3: CSK for M2.5 Flat Head Machine Screw1 ×2
    with Locations(*[(0, 0, i * CSK_FOR_M2_5_FLAT_HEAD_MACHINE_SCREW_3_PITCH) for i in range(1, CSK_FOR_M2_5_FLAT_HEAD_MACHINE_SCREW_3_COUNT)]):
        add(csk_for_m2_5_flat_head_machine_screw1, mode=Mode.SUBTRACT)

    # Fillet1
    fillet1_edges = [part.edges().sort_by_distance(p)[0] for p in [
        (-45.040600769, 0.85, 69.5),
        (45.040600769, 0.85, 69.5),
    ]]
    fillet(fillet1_edges, radius=FILLET1_R)


solid = part.part
